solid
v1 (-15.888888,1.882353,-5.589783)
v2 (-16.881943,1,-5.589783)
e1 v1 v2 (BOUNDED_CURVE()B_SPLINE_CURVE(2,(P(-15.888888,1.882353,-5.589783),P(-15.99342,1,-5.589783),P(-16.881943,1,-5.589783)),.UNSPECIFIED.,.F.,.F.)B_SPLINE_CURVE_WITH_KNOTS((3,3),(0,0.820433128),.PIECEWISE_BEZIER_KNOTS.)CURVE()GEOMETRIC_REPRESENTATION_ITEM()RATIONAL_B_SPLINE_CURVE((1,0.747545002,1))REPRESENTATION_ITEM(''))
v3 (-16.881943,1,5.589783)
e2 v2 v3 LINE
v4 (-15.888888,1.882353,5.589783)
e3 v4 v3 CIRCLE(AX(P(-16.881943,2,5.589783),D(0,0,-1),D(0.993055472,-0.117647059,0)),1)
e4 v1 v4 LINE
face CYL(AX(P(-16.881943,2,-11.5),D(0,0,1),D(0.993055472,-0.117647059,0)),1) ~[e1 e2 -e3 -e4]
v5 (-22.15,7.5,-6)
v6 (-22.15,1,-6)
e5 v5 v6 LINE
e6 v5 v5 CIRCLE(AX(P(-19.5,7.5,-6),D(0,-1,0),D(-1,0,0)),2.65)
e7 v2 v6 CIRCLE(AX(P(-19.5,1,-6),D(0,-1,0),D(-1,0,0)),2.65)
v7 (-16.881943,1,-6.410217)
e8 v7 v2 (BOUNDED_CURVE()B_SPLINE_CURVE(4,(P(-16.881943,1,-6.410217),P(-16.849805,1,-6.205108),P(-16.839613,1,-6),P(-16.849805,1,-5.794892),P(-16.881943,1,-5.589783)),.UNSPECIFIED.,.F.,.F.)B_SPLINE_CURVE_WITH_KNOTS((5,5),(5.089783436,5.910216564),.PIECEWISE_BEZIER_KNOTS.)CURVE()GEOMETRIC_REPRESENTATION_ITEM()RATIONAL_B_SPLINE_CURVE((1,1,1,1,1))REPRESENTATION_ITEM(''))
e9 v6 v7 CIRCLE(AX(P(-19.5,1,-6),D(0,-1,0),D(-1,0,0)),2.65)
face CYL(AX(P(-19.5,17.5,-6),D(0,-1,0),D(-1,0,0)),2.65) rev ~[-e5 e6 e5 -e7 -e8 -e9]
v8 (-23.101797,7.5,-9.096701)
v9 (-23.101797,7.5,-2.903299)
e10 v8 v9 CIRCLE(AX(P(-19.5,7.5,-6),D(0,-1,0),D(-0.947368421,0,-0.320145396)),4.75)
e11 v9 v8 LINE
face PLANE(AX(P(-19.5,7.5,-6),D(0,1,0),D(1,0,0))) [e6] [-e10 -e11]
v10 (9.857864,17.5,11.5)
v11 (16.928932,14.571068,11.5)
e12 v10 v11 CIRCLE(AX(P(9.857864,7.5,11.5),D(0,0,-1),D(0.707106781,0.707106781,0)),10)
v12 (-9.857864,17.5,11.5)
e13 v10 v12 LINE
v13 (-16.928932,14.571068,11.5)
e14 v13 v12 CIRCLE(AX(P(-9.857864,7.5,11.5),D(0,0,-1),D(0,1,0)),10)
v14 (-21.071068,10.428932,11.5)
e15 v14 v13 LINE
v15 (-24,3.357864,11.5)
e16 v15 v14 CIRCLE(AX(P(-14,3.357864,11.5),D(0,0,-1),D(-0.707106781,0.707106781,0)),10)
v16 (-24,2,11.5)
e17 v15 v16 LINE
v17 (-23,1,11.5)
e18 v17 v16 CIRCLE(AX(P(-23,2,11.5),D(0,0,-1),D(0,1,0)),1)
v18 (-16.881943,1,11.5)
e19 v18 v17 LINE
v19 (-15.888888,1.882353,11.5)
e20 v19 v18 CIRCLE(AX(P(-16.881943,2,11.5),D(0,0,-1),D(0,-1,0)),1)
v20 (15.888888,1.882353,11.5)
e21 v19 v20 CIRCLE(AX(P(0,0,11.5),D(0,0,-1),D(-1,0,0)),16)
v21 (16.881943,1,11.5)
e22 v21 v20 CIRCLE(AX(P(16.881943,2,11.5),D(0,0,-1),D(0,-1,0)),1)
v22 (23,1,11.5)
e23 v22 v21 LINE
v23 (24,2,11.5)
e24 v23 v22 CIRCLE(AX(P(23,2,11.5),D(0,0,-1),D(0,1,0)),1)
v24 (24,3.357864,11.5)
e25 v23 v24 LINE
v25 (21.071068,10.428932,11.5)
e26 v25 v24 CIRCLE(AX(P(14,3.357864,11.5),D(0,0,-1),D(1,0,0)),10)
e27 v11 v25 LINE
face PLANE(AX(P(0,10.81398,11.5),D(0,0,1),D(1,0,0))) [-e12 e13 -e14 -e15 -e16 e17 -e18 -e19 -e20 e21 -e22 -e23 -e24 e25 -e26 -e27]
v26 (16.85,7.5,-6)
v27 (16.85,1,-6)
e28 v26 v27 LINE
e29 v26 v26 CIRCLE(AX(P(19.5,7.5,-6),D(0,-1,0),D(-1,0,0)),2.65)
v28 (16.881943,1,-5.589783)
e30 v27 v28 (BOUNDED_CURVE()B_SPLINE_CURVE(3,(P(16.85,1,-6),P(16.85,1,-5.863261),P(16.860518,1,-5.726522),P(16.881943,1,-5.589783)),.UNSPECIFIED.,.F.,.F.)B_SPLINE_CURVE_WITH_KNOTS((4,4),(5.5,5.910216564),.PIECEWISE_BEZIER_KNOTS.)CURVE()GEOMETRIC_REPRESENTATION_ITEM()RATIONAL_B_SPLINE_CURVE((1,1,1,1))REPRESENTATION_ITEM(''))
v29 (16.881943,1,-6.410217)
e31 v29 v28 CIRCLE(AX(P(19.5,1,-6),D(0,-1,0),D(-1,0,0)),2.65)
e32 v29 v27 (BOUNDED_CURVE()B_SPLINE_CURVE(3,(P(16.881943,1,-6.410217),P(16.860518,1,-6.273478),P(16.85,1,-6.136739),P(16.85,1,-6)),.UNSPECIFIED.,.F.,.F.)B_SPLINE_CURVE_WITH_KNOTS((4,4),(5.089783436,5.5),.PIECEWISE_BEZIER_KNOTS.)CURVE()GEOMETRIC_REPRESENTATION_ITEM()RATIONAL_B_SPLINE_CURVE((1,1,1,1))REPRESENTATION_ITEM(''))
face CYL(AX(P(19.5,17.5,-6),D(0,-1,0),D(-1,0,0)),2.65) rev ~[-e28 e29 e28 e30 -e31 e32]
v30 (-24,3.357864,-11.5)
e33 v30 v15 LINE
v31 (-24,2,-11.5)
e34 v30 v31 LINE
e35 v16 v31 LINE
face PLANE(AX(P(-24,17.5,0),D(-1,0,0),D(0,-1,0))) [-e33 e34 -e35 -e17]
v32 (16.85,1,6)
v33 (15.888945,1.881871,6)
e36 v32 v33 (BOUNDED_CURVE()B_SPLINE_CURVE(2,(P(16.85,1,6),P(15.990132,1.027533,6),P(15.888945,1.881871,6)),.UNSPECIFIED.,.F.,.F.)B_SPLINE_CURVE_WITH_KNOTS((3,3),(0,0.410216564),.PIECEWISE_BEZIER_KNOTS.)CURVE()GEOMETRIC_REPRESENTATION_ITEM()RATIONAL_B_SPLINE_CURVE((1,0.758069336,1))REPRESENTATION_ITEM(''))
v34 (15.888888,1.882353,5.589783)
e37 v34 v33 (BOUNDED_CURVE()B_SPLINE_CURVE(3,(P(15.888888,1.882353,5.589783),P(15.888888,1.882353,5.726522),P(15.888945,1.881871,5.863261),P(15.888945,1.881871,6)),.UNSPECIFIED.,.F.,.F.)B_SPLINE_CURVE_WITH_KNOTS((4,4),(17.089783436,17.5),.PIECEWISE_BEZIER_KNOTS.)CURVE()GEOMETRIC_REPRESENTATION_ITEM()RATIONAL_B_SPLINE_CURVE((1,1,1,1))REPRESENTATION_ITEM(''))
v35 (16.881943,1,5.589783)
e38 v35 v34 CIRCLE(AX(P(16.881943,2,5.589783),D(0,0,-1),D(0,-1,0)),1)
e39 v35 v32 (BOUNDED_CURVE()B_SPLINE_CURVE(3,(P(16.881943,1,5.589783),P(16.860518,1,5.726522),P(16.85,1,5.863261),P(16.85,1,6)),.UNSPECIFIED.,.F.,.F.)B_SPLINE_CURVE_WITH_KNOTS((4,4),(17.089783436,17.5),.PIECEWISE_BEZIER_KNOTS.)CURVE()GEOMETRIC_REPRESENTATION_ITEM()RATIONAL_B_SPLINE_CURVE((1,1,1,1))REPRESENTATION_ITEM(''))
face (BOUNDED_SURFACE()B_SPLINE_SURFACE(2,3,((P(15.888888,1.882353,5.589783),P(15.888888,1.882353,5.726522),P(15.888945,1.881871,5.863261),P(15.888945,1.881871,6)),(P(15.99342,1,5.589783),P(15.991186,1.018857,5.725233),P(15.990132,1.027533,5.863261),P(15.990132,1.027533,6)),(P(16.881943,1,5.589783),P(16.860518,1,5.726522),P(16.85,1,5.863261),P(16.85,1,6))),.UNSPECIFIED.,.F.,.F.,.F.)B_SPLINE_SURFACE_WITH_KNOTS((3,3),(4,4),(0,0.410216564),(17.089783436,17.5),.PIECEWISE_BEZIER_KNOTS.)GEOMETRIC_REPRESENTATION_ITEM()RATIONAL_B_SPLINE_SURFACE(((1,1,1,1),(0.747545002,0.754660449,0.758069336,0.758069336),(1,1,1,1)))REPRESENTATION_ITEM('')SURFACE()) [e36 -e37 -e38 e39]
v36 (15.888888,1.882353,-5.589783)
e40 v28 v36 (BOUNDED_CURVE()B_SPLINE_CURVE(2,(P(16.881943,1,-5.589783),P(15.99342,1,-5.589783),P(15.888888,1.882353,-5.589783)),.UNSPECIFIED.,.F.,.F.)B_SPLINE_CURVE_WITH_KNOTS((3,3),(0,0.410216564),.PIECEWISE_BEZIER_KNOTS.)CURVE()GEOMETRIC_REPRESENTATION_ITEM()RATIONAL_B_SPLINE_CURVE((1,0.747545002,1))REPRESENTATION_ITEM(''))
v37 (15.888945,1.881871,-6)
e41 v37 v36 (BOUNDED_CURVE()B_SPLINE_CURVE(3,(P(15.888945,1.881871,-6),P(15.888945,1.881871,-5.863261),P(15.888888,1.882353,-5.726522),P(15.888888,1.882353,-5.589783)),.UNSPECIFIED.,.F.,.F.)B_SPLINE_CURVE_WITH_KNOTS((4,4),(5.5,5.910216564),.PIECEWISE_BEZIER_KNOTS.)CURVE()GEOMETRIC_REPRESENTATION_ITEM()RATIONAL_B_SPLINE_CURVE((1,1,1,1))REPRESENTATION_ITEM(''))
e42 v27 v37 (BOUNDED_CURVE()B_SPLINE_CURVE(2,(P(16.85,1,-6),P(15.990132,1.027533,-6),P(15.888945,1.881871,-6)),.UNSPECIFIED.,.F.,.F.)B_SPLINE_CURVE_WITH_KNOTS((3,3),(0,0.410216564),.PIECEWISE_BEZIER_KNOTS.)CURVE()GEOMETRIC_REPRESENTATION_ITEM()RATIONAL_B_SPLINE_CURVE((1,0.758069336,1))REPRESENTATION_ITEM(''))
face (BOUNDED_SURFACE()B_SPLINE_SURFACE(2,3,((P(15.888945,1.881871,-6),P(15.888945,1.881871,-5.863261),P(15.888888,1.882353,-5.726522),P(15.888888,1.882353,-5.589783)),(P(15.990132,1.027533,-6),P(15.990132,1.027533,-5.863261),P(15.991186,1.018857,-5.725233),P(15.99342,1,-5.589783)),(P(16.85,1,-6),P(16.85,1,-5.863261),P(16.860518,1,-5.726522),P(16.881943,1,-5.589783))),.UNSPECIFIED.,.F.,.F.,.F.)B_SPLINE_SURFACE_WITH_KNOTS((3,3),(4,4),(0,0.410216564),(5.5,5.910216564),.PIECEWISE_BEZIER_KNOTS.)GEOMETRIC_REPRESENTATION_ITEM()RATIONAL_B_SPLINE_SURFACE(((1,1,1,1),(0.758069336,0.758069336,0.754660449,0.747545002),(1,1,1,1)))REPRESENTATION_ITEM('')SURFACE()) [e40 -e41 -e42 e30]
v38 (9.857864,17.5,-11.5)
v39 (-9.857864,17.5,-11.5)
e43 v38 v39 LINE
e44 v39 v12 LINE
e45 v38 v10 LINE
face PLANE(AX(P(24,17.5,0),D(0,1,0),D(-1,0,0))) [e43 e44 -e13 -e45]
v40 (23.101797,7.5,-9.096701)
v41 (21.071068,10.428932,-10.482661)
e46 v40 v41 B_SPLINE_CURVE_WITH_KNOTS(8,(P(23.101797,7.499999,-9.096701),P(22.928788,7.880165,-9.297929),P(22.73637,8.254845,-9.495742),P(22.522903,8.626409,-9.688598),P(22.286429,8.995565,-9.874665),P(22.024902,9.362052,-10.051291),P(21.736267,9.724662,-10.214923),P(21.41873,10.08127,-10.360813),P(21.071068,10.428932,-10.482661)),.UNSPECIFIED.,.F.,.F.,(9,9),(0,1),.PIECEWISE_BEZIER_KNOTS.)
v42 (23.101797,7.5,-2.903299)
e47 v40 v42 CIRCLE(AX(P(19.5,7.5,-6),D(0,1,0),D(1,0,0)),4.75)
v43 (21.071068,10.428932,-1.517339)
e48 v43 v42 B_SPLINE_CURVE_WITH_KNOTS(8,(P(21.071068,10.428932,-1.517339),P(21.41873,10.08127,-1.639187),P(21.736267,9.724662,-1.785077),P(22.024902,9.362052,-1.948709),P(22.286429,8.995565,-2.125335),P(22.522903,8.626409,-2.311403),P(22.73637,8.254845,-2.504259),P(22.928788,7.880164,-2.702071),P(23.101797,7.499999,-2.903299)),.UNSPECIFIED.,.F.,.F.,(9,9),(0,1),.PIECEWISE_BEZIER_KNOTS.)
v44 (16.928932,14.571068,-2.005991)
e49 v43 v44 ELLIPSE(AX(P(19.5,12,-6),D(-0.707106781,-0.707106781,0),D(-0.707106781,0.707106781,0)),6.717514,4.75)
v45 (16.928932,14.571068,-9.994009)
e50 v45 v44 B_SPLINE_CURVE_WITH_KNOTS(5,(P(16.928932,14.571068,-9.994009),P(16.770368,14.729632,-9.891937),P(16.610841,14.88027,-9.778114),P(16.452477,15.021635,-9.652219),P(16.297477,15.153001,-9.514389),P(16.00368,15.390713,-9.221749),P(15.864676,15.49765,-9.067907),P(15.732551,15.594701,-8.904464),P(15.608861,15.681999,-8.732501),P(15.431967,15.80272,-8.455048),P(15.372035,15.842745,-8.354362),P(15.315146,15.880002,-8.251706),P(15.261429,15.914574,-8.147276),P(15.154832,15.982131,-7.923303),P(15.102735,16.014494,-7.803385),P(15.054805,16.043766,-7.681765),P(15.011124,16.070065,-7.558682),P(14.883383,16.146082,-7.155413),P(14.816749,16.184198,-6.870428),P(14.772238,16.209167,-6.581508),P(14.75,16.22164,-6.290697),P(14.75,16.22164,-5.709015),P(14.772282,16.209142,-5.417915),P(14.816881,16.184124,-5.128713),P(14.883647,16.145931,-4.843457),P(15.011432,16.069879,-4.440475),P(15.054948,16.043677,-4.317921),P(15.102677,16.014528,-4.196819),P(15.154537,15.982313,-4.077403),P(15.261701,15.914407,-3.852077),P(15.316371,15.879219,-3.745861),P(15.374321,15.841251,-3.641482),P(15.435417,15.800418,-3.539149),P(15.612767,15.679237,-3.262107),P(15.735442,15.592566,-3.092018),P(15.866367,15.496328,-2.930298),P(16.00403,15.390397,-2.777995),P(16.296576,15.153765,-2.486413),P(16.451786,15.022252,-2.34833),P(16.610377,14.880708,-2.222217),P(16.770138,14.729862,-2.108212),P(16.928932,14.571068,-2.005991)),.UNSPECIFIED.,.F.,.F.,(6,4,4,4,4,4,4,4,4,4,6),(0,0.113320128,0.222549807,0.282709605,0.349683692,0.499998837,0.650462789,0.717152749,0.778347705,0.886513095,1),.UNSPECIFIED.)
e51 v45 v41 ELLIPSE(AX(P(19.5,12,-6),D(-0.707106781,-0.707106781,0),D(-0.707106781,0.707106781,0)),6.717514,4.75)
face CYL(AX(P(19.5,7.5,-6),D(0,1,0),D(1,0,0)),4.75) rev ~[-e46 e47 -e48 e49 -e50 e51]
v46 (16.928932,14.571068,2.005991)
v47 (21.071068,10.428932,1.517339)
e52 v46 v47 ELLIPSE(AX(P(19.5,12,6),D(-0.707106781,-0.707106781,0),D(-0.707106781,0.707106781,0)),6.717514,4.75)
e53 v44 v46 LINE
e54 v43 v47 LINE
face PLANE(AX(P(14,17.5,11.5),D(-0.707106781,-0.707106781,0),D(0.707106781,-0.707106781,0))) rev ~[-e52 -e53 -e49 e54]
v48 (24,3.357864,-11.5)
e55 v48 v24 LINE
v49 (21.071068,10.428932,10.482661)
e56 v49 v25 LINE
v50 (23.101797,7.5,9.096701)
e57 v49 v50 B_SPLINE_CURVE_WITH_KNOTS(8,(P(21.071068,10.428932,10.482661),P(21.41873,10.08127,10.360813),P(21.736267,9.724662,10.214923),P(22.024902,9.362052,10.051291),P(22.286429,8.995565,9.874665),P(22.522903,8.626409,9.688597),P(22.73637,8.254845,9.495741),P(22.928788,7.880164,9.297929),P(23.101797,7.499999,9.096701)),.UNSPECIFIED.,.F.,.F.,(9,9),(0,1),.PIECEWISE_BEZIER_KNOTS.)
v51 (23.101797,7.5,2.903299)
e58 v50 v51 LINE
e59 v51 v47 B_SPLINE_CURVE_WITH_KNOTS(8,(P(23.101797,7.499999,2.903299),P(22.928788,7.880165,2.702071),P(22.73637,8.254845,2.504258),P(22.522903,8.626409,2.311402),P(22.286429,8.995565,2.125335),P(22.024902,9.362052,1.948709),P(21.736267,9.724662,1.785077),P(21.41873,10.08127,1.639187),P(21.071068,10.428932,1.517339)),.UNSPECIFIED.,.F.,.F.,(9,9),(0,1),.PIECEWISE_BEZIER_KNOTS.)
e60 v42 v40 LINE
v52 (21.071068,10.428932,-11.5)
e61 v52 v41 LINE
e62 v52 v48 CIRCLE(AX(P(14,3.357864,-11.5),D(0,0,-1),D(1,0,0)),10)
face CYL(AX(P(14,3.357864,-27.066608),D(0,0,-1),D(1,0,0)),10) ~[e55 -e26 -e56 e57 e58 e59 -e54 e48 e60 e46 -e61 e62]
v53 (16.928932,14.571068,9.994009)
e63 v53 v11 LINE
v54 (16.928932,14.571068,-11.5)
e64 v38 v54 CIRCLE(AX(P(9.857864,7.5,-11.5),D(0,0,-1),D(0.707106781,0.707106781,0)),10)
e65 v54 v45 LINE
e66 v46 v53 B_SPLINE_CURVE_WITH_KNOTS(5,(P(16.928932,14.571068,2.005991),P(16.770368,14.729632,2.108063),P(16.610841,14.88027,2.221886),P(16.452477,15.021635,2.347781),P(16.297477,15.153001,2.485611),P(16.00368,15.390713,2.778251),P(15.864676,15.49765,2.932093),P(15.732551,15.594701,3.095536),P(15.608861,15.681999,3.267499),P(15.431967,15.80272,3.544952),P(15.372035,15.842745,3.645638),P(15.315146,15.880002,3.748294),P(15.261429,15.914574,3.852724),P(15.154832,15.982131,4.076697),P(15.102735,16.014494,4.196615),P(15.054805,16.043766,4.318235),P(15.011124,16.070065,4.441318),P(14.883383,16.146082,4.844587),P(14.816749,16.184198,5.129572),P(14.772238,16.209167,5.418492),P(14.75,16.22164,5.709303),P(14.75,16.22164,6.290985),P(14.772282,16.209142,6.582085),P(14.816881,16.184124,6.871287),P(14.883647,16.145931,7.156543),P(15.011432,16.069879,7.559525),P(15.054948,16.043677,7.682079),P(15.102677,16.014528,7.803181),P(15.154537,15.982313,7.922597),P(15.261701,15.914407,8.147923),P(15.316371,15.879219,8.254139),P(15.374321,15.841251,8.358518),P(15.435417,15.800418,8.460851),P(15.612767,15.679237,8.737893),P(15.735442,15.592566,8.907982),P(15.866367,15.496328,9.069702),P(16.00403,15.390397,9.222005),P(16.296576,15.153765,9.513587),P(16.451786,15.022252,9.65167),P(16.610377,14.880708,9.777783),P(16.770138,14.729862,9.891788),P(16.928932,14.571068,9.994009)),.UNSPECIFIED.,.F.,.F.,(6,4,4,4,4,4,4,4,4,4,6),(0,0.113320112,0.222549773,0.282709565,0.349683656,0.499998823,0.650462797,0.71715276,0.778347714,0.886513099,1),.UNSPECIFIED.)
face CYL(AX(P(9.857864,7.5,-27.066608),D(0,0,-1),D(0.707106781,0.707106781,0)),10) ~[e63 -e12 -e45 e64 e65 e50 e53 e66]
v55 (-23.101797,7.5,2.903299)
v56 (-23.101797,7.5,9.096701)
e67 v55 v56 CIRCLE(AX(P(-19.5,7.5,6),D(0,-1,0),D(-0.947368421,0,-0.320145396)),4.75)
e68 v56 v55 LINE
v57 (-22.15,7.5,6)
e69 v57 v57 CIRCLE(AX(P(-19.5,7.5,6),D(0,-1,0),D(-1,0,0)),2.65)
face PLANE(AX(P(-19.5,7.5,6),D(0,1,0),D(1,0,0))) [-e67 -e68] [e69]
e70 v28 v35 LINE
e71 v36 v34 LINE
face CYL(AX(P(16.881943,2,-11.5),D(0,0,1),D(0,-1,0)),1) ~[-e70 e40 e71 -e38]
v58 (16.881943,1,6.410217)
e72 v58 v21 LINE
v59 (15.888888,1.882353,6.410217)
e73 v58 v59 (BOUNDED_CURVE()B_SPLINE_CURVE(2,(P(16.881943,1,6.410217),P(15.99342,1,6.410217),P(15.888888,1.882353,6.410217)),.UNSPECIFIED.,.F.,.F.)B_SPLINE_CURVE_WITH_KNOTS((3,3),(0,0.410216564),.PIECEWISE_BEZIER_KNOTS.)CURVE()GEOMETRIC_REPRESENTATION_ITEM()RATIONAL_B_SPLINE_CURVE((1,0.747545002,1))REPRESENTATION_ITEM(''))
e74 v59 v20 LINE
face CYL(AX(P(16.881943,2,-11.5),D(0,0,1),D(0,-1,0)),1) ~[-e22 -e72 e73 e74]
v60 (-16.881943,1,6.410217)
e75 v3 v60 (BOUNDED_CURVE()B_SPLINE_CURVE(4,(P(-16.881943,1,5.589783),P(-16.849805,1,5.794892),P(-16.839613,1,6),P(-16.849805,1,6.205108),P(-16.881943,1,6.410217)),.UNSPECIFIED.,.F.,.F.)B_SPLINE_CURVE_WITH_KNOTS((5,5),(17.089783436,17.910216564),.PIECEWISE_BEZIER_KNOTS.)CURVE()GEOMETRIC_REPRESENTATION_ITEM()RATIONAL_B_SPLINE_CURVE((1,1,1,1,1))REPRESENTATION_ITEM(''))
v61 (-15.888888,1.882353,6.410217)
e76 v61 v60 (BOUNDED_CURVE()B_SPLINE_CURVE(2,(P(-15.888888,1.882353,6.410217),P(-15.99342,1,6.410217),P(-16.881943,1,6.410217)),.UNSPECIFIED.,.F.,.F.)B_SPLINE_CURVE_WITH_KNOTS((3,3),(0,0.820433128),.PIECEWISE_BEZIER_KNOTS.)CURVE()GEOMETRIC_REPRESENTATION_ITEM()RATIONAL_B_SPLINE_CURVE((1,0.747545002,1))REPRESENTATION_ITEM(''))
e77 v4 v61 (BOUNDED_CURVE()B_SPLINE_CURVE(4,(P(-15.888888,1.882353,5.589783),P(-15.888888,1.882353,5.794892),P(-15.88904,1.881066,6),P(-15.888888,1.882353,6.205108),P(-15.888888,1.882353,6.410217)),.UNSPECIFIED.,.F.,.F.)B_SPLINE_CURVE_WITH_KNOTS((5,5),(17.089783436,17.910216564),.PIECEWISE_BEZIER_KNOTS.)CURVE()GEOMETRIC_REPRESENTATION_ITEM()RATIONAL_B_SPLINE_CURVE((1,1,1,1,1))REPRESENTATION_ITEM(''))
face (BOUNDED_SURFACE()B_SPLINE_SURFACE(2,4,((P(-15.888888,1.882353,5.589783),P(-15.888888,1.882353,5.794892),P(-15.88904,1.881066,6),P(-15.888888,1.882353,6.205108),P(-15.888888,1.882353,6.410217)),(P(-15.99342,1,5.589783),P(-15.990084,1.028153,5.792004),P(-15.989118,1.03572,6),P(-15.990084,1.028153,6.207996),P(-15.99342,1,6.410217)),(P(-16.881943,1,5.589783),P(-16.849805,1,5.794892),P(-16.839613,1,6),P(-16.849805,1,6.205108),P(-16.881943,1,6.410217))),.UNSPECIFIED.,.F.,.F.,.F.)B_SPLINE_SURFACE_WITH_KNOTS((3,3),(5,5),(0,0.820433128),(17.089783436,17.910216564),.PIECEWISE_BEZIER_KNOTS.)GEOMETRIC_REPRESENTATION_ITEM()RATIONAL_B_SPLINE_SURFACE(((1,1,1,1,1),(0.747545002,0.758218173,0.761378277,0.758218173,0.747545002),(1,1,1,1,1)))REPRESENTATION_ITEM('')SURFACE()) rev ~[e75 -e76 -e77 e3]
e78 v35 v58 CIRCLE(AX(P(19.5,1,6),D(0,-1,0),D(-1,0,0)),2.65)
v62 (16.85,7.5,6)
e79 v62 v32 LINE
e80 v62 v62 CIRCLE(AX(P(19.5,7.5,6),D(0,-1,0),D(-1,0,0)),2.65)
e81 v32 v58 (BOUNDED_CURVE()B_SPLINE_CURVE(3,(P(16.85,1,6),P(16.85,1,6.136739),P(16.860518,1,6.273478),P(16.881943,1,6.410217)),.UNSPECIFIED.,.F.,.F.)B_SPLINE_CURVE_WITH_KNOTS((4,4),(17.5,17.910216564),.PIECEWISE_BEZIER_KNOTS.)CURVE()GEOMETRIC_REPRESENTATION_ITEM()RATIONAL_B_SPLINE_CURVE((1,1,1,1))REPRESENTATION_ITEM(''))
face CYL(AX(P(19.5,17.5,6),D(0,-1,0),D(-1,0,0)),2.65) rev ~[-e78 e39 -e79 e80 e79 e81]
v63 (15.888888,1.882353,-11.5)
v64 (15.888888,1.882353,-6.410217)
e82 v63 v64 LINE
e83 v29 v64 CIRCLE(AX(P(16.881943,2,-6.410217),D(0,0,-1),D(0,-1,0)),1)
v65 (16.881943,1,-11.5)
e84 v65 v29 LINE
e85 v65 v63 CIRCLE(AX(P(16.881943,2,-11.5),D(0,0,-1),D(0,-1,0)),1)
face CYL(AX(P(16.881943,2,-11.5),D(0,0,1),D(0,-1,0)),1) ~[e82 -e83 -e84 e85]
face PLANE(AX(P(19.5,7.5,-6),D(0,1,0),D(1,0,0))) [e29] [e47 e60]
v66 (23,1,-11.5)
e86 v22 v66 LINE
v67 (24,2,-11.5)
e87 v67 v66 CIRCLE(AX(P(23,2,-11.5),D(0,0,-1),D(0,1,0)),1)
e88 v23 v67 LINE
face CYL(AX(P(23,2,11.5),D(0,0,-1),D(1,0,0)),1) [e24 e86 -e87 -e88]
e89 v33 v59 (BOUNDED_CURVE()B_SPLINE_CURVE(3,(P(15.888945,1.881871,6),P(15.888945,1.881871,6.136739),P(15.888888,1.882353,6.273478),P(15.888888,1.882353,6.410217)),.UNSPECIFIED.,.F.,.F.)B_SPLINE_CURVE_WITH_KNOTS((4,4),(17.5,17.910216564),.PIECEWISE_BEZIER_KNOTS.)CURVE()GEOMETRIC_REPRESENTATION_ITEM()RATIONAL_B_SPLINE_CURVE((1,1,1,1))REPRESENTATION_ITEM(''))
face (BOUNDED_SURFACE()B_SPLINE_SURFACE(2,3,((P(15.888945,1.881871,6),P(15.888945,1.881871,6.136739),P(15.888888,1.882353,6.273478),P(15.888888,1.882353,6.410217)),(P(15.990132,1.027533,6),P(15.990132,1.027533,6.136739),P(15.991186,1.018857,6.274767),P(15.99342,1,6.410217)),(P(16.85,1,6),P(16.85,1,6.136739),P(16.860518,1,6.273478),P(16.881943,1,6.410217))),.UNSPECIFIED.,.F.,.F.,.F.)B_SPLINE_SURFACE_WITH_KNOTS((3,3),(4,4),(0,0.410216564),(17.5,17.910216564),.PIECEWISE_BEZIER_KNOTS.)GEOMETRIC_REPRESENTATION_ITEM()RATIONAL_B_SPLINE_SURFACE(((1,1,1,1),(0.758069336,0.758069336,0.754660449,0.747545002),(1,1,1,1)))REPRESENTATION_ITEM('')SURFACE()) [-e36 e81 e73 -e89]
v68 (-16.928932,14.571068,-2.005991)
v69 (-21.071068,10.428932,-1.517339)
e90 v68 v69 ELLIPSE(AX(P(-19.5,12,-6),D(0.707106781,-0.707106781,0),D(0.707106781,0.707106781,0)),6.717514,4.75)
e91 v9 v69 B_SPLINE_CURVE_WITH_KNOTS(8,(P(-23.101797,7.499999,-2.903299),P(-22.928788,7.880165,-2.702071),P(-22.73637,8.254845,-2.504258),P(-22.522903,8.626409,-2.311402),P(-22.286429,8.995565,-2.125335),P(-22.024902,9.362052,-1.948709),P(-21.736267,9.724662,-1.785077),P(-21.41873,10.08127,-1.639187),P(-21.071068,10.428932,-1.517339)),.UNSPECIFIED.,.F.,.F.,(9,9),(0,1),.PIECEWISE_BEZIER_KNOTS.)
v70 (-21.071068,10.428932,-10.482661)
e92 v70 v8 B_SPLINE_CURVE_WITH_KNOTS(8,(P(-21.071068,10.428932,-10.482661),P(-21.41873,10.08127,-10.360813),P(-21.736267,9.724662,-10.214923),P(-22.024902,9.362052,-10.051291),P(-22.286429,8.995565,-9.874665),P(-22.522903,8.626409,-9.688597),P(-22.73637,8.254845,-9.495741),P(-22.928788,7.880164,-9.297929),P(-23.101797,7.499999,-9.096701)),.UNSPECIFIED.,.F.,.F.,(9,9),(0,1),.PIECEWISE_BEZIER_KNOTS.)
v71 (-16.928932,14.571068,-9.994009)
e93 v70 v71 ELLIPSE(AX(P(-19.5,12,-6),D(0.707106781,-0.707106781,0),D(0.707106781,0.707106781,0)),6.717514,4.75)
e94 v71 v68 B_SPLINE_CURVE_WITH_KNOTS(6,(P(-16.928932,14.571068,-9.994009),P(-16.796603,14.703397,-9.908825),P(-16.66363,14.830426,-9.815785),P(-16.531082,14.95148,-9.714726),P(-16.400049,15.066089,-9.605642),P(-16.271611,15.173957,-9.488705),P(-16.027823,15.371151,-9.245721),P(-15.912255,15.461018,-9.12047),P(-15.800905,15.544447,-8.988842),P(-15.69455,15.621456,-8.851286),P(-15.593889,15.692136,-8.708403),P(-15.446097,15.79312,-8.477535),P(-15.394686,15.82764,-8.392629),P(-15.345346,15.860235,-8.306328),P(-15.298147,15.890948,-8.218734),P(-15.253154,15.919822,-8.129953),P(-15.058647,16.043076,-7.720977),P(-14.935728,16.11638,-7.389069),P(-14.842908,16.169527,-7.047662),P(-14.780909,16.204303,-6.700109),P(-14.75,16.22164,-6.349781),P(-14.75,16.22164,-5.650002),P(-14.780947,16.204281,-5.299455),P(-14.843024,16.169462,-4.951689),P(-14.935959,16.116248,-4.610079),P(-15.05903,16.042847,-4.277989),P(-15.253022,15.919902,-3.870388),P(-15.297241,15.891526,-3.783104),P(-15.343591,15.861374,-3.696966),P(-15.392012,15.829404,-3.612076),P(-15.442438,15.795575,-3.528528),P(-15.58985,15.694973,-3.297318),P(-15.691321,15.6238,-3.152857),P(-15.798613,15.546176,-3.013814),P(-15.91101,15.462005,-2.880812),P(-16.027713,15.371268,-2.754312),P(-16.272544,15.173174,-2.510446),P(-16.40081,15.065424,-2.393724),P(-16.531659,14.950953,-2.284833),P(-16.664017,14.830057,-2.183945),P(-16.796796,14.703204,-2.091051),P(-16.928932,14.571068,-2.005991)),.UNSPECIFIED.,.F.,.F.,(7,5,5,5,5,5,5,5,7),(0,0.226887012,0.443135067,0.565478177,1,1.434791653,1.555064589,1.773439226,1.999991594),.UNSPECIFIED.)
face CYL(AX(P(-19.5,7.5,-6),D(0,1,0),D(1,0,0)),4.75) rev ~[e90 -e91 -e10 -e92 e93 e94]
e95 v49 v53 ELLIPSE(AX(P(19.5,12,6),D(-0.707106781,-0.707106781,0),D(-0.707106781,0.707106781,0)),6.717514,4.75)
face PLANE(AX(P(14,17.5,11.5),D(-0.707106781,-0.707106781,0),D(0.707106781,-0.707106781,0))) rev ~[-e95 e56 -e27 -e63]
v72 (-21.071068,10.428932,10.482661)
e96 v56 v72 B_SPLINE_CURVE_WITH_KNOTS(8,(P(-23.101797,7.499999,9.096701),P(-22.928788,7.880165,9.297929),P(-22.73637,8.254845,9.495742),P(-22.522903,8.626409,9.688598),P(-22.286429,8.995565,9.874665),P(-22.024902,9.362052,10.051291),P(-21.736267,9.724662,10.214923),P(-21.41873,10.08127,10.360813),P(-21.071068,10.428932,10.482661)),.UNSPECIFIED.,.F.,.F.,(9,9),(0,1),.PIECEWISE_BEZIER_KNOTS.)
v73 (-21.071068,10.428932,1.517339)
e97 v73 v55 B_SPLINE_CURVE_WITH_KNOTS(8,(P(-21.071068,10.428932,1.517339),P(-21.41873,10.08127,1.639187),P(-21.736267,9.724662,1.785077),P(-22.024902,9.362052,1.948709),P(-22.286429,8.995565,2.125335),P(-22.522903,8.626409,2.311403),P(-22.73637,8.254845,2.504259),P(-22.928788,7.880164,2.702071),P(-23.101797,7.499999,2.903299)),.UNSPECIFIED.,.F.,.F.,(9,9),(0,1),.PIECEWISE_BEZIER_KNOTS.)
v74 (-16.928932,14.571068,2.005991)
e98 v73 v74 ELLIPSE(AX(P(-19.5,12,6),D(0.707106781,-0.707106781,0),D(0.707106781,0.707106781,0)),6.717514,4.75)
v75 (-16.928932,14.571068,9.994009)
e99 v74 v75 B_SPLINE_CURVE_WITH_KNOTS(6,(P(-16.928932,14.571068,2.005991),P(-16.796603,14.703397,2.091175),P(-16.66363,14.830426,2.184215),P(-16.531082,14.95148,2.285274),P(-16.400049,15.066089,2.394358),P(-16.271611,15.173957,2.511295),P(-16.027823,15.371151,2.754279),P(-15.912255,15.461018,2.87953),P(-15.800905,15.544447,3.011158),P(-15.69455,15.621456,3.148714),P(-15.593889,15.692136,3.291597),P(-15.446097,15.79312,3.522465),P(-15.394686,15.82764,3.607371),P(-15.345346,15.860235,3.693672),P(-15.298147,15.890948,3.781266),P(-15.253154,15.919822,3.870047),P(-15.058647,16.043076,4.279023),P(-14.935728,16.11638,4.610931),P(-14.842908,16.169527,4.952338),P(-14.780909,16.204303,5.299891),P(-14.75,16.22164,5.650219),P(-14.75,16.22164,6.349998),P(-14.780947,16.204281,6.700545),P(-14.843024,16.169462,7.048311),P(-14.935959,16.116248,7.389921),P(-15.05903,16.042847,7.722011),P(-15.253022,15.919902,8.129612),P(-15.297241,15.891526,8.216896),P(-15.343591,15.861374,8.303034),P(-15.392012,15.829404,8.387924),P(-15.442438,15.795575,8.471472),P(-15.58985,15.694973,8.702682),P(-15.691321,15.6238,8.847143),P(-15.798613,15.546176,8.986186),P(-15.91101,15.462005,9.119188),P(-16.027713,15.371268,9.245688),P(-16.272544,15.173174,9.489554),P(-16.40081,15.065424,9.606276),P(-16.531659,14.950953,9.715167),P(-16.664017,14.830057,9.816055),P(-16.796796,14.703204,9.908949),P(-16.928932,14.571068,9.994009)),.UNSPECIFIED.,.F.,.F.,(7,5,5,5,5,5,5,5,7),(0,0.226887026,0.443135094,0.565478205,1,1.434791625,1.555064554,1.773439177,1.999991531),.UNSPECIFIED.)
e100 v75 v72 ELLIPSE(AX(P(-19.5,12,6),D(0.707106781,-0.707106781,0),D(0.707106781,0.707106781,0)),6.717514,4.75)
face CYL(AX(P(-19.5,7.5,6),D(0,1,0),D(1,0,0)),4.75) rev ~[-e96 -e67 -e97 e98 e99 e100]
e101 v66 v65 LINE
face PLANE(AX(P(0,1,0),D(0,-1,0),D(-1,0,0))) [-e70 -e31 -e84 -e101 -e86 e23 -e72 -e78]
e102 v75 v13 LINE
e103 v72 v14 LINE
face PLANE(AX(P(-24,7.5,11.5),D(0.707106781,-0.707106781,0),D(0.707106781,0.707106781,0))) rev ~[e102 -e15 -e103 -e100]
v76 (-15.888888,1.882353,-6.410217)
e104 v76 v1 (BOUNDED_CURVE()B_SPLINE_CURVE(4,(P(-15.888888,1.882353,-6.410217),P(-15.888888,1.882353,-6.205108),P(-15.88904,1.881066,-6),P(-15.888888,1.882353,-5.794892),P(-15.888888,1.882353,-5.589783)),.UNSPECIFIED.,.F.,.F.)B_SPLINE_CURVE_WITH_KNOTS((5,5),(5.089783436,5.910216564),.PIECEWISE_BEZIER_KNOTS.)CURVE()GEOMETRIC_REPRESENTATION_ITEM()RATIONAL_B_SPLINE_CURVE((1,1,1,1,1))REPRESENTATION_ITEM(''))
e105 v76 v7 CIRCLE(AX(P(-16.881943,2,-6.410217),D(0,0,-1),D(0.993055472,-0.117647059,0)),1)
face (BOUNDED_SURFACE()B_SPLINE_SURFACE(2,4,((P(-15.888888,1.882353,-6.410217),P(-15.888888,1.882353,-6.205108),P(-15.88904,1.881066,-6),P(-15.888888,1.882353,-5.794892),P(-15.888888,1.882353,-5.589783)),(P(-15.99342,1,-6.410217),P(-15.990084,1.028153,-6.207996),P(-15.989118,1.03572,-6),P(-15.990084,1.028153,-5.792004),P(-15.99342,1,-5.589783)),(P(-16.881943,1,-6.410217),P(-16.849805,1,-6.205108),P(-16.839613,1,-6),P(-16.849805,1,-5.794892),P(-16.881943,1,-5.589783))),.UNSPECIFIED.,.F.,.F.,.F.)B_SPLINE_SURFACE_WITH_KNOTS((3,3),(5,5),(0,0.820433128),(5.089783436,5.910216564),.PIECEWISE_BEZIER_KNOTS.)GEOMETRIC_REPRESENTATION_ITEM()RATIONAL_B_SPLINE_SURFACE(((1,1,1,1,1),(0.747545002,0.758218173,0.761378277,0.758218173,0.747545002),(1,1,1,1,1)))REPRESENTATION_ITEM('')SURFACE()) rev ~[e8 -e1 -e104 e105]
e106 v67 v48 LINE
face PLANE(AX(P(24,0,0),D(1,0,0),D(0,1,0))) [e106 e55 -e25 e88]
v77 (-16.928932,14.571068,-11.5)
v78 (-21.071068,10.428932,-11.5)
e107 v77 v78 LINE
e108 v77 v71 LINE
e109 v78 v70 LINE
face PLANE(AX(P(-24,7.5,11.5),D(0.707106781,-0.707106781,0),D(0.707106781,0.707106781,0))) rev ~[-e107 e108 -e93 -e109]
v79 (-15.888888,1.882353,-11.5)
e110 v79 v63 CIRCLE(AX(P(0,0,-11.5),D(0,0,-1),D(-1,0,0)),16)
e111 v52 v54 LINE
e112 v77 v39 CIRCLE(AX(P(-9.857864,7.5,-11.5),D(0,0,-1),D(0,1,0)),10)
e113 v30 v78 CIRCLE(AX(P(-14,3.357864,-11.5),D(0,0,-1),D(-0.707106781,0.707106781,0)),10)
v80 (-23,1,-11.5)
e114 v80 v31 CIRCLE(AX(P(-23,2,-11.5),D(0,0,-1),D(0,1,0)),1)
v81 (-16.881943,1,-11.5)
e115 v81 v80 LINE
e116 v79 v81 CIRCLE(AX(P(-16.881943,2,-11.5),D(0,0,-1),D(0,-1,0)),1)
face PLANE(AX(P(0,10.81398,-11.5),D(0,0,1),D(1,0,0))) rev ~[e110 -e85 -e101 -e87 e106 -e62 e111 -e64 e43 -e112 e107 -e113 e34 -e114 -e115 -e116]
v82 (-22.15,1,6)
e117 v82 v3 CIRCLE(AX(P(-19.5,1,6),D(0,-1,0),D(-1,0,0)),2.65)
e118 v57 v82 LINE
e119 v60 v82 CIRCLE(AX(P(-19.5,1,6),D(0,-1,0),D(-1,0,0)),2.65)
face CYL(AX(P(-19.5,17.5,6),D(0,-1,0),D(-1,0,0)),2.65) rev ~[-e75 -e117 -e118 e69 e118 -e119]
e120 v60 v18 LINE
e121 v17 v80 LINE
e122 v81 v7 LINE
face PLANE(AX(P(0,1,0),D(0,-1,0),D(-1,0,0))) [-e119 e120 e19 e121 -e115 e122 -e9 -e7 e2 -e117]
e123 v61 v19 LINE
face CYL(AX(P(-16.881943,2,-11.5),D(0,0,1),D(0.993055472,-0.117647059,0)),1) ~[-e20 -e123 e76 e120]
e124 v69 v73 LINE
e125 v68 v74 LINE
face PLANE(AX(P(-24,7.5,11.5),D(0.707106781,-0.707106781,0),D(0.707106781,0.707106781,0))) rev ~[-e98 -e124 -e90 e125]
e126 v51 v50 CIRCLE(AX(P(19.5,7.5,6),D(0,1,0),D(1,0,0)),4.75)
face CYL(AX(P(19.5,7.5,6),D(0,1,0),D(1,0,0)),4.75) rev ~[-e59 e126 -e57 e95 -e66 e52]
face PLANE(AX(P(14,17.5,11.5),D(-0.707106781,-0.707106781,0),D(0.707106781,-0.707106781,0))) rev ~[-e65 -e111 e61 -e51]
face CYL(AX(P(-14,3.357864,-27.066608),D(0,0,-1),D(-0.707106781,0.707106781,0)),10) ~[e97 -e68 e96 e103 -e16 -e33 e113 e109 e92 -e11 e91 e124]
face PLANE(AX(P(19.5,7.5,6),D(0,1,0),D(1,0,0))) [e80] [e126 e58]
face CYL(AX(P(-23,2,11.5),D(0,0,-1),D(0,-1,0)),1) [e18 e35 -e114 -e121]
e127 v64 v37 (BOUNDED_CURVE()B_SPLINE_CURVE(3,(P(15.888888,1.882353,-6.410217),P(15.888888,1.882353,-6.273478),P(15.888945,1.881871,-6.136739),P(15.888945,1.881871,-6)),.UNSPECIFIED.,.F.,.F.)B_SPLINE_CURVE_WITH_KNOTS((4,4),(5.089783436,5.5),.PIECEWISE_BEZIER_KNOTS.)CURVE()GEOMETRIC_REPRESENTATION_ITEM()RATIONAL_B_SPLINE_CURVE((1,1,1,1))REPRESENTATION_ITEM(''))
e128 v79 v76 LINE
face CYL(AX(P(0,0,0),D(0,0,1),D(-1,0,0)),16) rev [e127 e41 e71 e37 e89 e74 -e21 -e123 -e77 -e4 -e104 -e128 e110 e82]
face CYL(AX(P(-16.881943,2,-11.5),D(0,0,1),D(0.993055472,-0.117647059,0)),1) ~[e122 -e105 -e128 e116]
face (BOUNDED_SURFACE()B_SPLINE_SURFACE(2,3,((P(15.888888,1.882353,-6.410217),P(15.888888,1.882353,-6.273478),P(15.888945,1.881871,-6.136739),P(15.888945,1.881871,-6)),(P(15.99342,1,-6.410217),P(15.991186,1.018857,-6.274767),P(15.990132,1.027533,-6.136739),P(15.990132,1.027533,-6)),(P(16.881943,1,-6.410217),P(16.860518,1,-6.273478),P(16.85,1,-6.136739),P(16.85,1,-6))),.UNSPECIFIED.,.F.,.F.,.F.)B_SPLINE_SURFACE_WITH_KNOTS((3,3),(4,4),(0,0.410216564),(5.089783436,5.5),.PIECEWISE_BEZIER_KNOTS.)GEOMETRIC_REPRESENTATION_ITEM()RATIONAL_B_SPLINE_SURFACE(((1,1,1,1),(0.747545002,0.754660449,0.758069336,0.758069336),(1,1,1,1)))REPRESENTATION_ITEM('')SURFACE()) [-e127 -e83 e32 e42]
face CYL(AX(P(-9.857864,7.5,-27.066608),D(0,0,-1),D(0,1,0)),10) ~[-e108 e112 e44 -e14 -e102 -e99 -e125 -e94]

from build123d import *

# Parameters (mm, degrees)
BOSS_EXTRUDE1_DEPTH            = 11.5
CBORE_FOR_M5_SHCS1_D           = 5.3
CBORE_FOR_M5_SHCS1_CBORE_D     = 9.5
CBORE_FOR_M5_SHCS1_CBORE_DEPTH = 10
CHAMFER_2_REACH                = 39.567
SKETCH5_W                      = 48
SKETCH5_H                      = 23
CUT_EXTRUDE2_DEPTH             = 1
CUT_EXTRUDE3_DEPTH             = 38.566607513
CUT_EXTRUDE3_DEPTH_BACK        = 38.566607513
FILLET1_R                      = 1


with BuildPart() as part:
    # Sketch1 → Boss-Extrude1 (new, symmetric)
    with BuildSketch(Plane.XY):
        with BuildLine():
            Line((24, 17.5), (-24, 17.5))
            Line((-24, 17.5), (-24, 0))
            Line((-24, 0), (-16, 0))
            ThreePointArc((-16, 0), (0, 16), (16, 0))
            Line((16, 0), (24, 0))
            Line((24, 0), (24, 17.5))
        make_face()
    extrude(amount=BOSS_EXTRUDE1_DEPTH, both=True)

    # CBORE for M5 SHCS1 (through all)
    with Locations(Plane(origin=(0, 17.5, 0), x_dir=(1, 0, 0), z_dir=(0, 1, 0))):
        with Locations((-19.5, -6), (-19.5, 6), (19.5, -6), (19.5, 6)):
            CounterBoreHole(CBORE_FOR_M5_SHCS1_D / 2, CBORE_FOR_M5_SHCS1_CBORE_D / 2, CBORE_FOR_M5_SHCS1_CBORE_DEPTH)

    # Sketch4 → Chamfer 2 (cut, up to next)
    with BuildSketch(Plane.XY.offset(11.5), mode=Mode.PRIVATE) as chamfer_2_sk1:
        Polygon((24, 17.5), (14, 17.5), (24, 7.5), align=None)
    chamfer_2_tool1 = extrude(chamfer_2_sk1.sketch, amount=-CHAMFER_2_REACH, mode=Mode.PRIVATE) & part.part
    # Sketch4 → Chamfer 2 (cut, up to next)
    with BuildSketch(Plane.XY.offset(11.5), mode=Mode.PRIVATE) as chamfer_2_sk2:
        Polygon((-14, 17.5), (-24, 17.5), (-24, 7.5), align=None)
    chamfer_2_tool2 = extrude(chamfer_2_sk2.sketch, amount=-CHAMFER_2_REACH, mode=Mode.PRIVATE) & part.part
    add(chamfer_2_tool1.solids().sort_by_distance((20.666667, 14.166667, 11.5))[0], mode=Mode.SUBTRACT)
    add(chamfer_2_tool2.solids().sort_by_distance((-20.666667, 14.166667, 11.5))[0], mode=Mode.SUBTRACT)

    # Sketch5 → Cut-Extrude2 (cut)
    with BuildSketch(Plane(origin=(0, 0, 0), x_dir=(-1, 0, 0), z_dir=(0, -1, 0))):
        Rectangle(SKETCH5_W, SKETCH5_H)
    extrude(amount=-CUT_EXTRUDE2_DEPTH, mode=Mode.SUBTRACT)

    # Sketch6 → Cut-Extrude3 (cut, two sides: drawn at the far end of the back side and taken through both)
    with BuildSketch(Plane.XY.offset(11.5).offset(-CUT_EXTRUDE3_DEPTH_BACK)):
        with BuildLine():
            Line((-24, 3.357864376), (-24, 7.5))
            Line((-24, 7.5), (-21.071067812, 10.428932188))
            ThreePointArc((-21.071067812, 10.428932188), (-23.238795325, 7.1846987), (-24, 3.357864376))
        make_face()
        with BuildLine():
            Line((-16.928932188, 14.571067812), (-14, 17.5))
            Line((-14, 17.5), (-9.857864376, 17.5))
            ThreePointArc((-9.857864376, 17.5), (-13.6846987, 16.738795325), (-16.928932188, 14.571067812))
        make_face()
        with BuildLine():
            Line((9.857864376, 17.5), (14, 17.5))
            Line((14, 17.5), (16.928932188, 14.571067812))
            ThreePointArc((16.928932188, 14.571067812), (13.6846987, 16.738795325), (9.857864376, 17.5))
        make_face()
        with BuildLine():
            Line((21.071067812, 10.428932188), (24, 7.5))
            Line((24, 7.5), (24, 3.357864376))
            ThreePointArc((24, 3.357864376), (23.238795325, 7.1846987), (21.071067812, 10.428932188))
        make_face()
    extrude(amount=CUT_EXTRUDE3_DEPTH + CUT_EXTRUDE3_DEPTH_BACK, mode=Mode.SUBTRACT)

    # Fillet1
    fillet1_edges = [part.edges().sort_by_distance(p)[0] for p in [
        (-15.968719423, 1, 0),
        (15.968719423, 1, 0),
        (-24, 1, 0),
        (24, 1, 0),
    ]]
    fillet(fillet1_edges, radius=FILLET1_R)


solid = part.part
